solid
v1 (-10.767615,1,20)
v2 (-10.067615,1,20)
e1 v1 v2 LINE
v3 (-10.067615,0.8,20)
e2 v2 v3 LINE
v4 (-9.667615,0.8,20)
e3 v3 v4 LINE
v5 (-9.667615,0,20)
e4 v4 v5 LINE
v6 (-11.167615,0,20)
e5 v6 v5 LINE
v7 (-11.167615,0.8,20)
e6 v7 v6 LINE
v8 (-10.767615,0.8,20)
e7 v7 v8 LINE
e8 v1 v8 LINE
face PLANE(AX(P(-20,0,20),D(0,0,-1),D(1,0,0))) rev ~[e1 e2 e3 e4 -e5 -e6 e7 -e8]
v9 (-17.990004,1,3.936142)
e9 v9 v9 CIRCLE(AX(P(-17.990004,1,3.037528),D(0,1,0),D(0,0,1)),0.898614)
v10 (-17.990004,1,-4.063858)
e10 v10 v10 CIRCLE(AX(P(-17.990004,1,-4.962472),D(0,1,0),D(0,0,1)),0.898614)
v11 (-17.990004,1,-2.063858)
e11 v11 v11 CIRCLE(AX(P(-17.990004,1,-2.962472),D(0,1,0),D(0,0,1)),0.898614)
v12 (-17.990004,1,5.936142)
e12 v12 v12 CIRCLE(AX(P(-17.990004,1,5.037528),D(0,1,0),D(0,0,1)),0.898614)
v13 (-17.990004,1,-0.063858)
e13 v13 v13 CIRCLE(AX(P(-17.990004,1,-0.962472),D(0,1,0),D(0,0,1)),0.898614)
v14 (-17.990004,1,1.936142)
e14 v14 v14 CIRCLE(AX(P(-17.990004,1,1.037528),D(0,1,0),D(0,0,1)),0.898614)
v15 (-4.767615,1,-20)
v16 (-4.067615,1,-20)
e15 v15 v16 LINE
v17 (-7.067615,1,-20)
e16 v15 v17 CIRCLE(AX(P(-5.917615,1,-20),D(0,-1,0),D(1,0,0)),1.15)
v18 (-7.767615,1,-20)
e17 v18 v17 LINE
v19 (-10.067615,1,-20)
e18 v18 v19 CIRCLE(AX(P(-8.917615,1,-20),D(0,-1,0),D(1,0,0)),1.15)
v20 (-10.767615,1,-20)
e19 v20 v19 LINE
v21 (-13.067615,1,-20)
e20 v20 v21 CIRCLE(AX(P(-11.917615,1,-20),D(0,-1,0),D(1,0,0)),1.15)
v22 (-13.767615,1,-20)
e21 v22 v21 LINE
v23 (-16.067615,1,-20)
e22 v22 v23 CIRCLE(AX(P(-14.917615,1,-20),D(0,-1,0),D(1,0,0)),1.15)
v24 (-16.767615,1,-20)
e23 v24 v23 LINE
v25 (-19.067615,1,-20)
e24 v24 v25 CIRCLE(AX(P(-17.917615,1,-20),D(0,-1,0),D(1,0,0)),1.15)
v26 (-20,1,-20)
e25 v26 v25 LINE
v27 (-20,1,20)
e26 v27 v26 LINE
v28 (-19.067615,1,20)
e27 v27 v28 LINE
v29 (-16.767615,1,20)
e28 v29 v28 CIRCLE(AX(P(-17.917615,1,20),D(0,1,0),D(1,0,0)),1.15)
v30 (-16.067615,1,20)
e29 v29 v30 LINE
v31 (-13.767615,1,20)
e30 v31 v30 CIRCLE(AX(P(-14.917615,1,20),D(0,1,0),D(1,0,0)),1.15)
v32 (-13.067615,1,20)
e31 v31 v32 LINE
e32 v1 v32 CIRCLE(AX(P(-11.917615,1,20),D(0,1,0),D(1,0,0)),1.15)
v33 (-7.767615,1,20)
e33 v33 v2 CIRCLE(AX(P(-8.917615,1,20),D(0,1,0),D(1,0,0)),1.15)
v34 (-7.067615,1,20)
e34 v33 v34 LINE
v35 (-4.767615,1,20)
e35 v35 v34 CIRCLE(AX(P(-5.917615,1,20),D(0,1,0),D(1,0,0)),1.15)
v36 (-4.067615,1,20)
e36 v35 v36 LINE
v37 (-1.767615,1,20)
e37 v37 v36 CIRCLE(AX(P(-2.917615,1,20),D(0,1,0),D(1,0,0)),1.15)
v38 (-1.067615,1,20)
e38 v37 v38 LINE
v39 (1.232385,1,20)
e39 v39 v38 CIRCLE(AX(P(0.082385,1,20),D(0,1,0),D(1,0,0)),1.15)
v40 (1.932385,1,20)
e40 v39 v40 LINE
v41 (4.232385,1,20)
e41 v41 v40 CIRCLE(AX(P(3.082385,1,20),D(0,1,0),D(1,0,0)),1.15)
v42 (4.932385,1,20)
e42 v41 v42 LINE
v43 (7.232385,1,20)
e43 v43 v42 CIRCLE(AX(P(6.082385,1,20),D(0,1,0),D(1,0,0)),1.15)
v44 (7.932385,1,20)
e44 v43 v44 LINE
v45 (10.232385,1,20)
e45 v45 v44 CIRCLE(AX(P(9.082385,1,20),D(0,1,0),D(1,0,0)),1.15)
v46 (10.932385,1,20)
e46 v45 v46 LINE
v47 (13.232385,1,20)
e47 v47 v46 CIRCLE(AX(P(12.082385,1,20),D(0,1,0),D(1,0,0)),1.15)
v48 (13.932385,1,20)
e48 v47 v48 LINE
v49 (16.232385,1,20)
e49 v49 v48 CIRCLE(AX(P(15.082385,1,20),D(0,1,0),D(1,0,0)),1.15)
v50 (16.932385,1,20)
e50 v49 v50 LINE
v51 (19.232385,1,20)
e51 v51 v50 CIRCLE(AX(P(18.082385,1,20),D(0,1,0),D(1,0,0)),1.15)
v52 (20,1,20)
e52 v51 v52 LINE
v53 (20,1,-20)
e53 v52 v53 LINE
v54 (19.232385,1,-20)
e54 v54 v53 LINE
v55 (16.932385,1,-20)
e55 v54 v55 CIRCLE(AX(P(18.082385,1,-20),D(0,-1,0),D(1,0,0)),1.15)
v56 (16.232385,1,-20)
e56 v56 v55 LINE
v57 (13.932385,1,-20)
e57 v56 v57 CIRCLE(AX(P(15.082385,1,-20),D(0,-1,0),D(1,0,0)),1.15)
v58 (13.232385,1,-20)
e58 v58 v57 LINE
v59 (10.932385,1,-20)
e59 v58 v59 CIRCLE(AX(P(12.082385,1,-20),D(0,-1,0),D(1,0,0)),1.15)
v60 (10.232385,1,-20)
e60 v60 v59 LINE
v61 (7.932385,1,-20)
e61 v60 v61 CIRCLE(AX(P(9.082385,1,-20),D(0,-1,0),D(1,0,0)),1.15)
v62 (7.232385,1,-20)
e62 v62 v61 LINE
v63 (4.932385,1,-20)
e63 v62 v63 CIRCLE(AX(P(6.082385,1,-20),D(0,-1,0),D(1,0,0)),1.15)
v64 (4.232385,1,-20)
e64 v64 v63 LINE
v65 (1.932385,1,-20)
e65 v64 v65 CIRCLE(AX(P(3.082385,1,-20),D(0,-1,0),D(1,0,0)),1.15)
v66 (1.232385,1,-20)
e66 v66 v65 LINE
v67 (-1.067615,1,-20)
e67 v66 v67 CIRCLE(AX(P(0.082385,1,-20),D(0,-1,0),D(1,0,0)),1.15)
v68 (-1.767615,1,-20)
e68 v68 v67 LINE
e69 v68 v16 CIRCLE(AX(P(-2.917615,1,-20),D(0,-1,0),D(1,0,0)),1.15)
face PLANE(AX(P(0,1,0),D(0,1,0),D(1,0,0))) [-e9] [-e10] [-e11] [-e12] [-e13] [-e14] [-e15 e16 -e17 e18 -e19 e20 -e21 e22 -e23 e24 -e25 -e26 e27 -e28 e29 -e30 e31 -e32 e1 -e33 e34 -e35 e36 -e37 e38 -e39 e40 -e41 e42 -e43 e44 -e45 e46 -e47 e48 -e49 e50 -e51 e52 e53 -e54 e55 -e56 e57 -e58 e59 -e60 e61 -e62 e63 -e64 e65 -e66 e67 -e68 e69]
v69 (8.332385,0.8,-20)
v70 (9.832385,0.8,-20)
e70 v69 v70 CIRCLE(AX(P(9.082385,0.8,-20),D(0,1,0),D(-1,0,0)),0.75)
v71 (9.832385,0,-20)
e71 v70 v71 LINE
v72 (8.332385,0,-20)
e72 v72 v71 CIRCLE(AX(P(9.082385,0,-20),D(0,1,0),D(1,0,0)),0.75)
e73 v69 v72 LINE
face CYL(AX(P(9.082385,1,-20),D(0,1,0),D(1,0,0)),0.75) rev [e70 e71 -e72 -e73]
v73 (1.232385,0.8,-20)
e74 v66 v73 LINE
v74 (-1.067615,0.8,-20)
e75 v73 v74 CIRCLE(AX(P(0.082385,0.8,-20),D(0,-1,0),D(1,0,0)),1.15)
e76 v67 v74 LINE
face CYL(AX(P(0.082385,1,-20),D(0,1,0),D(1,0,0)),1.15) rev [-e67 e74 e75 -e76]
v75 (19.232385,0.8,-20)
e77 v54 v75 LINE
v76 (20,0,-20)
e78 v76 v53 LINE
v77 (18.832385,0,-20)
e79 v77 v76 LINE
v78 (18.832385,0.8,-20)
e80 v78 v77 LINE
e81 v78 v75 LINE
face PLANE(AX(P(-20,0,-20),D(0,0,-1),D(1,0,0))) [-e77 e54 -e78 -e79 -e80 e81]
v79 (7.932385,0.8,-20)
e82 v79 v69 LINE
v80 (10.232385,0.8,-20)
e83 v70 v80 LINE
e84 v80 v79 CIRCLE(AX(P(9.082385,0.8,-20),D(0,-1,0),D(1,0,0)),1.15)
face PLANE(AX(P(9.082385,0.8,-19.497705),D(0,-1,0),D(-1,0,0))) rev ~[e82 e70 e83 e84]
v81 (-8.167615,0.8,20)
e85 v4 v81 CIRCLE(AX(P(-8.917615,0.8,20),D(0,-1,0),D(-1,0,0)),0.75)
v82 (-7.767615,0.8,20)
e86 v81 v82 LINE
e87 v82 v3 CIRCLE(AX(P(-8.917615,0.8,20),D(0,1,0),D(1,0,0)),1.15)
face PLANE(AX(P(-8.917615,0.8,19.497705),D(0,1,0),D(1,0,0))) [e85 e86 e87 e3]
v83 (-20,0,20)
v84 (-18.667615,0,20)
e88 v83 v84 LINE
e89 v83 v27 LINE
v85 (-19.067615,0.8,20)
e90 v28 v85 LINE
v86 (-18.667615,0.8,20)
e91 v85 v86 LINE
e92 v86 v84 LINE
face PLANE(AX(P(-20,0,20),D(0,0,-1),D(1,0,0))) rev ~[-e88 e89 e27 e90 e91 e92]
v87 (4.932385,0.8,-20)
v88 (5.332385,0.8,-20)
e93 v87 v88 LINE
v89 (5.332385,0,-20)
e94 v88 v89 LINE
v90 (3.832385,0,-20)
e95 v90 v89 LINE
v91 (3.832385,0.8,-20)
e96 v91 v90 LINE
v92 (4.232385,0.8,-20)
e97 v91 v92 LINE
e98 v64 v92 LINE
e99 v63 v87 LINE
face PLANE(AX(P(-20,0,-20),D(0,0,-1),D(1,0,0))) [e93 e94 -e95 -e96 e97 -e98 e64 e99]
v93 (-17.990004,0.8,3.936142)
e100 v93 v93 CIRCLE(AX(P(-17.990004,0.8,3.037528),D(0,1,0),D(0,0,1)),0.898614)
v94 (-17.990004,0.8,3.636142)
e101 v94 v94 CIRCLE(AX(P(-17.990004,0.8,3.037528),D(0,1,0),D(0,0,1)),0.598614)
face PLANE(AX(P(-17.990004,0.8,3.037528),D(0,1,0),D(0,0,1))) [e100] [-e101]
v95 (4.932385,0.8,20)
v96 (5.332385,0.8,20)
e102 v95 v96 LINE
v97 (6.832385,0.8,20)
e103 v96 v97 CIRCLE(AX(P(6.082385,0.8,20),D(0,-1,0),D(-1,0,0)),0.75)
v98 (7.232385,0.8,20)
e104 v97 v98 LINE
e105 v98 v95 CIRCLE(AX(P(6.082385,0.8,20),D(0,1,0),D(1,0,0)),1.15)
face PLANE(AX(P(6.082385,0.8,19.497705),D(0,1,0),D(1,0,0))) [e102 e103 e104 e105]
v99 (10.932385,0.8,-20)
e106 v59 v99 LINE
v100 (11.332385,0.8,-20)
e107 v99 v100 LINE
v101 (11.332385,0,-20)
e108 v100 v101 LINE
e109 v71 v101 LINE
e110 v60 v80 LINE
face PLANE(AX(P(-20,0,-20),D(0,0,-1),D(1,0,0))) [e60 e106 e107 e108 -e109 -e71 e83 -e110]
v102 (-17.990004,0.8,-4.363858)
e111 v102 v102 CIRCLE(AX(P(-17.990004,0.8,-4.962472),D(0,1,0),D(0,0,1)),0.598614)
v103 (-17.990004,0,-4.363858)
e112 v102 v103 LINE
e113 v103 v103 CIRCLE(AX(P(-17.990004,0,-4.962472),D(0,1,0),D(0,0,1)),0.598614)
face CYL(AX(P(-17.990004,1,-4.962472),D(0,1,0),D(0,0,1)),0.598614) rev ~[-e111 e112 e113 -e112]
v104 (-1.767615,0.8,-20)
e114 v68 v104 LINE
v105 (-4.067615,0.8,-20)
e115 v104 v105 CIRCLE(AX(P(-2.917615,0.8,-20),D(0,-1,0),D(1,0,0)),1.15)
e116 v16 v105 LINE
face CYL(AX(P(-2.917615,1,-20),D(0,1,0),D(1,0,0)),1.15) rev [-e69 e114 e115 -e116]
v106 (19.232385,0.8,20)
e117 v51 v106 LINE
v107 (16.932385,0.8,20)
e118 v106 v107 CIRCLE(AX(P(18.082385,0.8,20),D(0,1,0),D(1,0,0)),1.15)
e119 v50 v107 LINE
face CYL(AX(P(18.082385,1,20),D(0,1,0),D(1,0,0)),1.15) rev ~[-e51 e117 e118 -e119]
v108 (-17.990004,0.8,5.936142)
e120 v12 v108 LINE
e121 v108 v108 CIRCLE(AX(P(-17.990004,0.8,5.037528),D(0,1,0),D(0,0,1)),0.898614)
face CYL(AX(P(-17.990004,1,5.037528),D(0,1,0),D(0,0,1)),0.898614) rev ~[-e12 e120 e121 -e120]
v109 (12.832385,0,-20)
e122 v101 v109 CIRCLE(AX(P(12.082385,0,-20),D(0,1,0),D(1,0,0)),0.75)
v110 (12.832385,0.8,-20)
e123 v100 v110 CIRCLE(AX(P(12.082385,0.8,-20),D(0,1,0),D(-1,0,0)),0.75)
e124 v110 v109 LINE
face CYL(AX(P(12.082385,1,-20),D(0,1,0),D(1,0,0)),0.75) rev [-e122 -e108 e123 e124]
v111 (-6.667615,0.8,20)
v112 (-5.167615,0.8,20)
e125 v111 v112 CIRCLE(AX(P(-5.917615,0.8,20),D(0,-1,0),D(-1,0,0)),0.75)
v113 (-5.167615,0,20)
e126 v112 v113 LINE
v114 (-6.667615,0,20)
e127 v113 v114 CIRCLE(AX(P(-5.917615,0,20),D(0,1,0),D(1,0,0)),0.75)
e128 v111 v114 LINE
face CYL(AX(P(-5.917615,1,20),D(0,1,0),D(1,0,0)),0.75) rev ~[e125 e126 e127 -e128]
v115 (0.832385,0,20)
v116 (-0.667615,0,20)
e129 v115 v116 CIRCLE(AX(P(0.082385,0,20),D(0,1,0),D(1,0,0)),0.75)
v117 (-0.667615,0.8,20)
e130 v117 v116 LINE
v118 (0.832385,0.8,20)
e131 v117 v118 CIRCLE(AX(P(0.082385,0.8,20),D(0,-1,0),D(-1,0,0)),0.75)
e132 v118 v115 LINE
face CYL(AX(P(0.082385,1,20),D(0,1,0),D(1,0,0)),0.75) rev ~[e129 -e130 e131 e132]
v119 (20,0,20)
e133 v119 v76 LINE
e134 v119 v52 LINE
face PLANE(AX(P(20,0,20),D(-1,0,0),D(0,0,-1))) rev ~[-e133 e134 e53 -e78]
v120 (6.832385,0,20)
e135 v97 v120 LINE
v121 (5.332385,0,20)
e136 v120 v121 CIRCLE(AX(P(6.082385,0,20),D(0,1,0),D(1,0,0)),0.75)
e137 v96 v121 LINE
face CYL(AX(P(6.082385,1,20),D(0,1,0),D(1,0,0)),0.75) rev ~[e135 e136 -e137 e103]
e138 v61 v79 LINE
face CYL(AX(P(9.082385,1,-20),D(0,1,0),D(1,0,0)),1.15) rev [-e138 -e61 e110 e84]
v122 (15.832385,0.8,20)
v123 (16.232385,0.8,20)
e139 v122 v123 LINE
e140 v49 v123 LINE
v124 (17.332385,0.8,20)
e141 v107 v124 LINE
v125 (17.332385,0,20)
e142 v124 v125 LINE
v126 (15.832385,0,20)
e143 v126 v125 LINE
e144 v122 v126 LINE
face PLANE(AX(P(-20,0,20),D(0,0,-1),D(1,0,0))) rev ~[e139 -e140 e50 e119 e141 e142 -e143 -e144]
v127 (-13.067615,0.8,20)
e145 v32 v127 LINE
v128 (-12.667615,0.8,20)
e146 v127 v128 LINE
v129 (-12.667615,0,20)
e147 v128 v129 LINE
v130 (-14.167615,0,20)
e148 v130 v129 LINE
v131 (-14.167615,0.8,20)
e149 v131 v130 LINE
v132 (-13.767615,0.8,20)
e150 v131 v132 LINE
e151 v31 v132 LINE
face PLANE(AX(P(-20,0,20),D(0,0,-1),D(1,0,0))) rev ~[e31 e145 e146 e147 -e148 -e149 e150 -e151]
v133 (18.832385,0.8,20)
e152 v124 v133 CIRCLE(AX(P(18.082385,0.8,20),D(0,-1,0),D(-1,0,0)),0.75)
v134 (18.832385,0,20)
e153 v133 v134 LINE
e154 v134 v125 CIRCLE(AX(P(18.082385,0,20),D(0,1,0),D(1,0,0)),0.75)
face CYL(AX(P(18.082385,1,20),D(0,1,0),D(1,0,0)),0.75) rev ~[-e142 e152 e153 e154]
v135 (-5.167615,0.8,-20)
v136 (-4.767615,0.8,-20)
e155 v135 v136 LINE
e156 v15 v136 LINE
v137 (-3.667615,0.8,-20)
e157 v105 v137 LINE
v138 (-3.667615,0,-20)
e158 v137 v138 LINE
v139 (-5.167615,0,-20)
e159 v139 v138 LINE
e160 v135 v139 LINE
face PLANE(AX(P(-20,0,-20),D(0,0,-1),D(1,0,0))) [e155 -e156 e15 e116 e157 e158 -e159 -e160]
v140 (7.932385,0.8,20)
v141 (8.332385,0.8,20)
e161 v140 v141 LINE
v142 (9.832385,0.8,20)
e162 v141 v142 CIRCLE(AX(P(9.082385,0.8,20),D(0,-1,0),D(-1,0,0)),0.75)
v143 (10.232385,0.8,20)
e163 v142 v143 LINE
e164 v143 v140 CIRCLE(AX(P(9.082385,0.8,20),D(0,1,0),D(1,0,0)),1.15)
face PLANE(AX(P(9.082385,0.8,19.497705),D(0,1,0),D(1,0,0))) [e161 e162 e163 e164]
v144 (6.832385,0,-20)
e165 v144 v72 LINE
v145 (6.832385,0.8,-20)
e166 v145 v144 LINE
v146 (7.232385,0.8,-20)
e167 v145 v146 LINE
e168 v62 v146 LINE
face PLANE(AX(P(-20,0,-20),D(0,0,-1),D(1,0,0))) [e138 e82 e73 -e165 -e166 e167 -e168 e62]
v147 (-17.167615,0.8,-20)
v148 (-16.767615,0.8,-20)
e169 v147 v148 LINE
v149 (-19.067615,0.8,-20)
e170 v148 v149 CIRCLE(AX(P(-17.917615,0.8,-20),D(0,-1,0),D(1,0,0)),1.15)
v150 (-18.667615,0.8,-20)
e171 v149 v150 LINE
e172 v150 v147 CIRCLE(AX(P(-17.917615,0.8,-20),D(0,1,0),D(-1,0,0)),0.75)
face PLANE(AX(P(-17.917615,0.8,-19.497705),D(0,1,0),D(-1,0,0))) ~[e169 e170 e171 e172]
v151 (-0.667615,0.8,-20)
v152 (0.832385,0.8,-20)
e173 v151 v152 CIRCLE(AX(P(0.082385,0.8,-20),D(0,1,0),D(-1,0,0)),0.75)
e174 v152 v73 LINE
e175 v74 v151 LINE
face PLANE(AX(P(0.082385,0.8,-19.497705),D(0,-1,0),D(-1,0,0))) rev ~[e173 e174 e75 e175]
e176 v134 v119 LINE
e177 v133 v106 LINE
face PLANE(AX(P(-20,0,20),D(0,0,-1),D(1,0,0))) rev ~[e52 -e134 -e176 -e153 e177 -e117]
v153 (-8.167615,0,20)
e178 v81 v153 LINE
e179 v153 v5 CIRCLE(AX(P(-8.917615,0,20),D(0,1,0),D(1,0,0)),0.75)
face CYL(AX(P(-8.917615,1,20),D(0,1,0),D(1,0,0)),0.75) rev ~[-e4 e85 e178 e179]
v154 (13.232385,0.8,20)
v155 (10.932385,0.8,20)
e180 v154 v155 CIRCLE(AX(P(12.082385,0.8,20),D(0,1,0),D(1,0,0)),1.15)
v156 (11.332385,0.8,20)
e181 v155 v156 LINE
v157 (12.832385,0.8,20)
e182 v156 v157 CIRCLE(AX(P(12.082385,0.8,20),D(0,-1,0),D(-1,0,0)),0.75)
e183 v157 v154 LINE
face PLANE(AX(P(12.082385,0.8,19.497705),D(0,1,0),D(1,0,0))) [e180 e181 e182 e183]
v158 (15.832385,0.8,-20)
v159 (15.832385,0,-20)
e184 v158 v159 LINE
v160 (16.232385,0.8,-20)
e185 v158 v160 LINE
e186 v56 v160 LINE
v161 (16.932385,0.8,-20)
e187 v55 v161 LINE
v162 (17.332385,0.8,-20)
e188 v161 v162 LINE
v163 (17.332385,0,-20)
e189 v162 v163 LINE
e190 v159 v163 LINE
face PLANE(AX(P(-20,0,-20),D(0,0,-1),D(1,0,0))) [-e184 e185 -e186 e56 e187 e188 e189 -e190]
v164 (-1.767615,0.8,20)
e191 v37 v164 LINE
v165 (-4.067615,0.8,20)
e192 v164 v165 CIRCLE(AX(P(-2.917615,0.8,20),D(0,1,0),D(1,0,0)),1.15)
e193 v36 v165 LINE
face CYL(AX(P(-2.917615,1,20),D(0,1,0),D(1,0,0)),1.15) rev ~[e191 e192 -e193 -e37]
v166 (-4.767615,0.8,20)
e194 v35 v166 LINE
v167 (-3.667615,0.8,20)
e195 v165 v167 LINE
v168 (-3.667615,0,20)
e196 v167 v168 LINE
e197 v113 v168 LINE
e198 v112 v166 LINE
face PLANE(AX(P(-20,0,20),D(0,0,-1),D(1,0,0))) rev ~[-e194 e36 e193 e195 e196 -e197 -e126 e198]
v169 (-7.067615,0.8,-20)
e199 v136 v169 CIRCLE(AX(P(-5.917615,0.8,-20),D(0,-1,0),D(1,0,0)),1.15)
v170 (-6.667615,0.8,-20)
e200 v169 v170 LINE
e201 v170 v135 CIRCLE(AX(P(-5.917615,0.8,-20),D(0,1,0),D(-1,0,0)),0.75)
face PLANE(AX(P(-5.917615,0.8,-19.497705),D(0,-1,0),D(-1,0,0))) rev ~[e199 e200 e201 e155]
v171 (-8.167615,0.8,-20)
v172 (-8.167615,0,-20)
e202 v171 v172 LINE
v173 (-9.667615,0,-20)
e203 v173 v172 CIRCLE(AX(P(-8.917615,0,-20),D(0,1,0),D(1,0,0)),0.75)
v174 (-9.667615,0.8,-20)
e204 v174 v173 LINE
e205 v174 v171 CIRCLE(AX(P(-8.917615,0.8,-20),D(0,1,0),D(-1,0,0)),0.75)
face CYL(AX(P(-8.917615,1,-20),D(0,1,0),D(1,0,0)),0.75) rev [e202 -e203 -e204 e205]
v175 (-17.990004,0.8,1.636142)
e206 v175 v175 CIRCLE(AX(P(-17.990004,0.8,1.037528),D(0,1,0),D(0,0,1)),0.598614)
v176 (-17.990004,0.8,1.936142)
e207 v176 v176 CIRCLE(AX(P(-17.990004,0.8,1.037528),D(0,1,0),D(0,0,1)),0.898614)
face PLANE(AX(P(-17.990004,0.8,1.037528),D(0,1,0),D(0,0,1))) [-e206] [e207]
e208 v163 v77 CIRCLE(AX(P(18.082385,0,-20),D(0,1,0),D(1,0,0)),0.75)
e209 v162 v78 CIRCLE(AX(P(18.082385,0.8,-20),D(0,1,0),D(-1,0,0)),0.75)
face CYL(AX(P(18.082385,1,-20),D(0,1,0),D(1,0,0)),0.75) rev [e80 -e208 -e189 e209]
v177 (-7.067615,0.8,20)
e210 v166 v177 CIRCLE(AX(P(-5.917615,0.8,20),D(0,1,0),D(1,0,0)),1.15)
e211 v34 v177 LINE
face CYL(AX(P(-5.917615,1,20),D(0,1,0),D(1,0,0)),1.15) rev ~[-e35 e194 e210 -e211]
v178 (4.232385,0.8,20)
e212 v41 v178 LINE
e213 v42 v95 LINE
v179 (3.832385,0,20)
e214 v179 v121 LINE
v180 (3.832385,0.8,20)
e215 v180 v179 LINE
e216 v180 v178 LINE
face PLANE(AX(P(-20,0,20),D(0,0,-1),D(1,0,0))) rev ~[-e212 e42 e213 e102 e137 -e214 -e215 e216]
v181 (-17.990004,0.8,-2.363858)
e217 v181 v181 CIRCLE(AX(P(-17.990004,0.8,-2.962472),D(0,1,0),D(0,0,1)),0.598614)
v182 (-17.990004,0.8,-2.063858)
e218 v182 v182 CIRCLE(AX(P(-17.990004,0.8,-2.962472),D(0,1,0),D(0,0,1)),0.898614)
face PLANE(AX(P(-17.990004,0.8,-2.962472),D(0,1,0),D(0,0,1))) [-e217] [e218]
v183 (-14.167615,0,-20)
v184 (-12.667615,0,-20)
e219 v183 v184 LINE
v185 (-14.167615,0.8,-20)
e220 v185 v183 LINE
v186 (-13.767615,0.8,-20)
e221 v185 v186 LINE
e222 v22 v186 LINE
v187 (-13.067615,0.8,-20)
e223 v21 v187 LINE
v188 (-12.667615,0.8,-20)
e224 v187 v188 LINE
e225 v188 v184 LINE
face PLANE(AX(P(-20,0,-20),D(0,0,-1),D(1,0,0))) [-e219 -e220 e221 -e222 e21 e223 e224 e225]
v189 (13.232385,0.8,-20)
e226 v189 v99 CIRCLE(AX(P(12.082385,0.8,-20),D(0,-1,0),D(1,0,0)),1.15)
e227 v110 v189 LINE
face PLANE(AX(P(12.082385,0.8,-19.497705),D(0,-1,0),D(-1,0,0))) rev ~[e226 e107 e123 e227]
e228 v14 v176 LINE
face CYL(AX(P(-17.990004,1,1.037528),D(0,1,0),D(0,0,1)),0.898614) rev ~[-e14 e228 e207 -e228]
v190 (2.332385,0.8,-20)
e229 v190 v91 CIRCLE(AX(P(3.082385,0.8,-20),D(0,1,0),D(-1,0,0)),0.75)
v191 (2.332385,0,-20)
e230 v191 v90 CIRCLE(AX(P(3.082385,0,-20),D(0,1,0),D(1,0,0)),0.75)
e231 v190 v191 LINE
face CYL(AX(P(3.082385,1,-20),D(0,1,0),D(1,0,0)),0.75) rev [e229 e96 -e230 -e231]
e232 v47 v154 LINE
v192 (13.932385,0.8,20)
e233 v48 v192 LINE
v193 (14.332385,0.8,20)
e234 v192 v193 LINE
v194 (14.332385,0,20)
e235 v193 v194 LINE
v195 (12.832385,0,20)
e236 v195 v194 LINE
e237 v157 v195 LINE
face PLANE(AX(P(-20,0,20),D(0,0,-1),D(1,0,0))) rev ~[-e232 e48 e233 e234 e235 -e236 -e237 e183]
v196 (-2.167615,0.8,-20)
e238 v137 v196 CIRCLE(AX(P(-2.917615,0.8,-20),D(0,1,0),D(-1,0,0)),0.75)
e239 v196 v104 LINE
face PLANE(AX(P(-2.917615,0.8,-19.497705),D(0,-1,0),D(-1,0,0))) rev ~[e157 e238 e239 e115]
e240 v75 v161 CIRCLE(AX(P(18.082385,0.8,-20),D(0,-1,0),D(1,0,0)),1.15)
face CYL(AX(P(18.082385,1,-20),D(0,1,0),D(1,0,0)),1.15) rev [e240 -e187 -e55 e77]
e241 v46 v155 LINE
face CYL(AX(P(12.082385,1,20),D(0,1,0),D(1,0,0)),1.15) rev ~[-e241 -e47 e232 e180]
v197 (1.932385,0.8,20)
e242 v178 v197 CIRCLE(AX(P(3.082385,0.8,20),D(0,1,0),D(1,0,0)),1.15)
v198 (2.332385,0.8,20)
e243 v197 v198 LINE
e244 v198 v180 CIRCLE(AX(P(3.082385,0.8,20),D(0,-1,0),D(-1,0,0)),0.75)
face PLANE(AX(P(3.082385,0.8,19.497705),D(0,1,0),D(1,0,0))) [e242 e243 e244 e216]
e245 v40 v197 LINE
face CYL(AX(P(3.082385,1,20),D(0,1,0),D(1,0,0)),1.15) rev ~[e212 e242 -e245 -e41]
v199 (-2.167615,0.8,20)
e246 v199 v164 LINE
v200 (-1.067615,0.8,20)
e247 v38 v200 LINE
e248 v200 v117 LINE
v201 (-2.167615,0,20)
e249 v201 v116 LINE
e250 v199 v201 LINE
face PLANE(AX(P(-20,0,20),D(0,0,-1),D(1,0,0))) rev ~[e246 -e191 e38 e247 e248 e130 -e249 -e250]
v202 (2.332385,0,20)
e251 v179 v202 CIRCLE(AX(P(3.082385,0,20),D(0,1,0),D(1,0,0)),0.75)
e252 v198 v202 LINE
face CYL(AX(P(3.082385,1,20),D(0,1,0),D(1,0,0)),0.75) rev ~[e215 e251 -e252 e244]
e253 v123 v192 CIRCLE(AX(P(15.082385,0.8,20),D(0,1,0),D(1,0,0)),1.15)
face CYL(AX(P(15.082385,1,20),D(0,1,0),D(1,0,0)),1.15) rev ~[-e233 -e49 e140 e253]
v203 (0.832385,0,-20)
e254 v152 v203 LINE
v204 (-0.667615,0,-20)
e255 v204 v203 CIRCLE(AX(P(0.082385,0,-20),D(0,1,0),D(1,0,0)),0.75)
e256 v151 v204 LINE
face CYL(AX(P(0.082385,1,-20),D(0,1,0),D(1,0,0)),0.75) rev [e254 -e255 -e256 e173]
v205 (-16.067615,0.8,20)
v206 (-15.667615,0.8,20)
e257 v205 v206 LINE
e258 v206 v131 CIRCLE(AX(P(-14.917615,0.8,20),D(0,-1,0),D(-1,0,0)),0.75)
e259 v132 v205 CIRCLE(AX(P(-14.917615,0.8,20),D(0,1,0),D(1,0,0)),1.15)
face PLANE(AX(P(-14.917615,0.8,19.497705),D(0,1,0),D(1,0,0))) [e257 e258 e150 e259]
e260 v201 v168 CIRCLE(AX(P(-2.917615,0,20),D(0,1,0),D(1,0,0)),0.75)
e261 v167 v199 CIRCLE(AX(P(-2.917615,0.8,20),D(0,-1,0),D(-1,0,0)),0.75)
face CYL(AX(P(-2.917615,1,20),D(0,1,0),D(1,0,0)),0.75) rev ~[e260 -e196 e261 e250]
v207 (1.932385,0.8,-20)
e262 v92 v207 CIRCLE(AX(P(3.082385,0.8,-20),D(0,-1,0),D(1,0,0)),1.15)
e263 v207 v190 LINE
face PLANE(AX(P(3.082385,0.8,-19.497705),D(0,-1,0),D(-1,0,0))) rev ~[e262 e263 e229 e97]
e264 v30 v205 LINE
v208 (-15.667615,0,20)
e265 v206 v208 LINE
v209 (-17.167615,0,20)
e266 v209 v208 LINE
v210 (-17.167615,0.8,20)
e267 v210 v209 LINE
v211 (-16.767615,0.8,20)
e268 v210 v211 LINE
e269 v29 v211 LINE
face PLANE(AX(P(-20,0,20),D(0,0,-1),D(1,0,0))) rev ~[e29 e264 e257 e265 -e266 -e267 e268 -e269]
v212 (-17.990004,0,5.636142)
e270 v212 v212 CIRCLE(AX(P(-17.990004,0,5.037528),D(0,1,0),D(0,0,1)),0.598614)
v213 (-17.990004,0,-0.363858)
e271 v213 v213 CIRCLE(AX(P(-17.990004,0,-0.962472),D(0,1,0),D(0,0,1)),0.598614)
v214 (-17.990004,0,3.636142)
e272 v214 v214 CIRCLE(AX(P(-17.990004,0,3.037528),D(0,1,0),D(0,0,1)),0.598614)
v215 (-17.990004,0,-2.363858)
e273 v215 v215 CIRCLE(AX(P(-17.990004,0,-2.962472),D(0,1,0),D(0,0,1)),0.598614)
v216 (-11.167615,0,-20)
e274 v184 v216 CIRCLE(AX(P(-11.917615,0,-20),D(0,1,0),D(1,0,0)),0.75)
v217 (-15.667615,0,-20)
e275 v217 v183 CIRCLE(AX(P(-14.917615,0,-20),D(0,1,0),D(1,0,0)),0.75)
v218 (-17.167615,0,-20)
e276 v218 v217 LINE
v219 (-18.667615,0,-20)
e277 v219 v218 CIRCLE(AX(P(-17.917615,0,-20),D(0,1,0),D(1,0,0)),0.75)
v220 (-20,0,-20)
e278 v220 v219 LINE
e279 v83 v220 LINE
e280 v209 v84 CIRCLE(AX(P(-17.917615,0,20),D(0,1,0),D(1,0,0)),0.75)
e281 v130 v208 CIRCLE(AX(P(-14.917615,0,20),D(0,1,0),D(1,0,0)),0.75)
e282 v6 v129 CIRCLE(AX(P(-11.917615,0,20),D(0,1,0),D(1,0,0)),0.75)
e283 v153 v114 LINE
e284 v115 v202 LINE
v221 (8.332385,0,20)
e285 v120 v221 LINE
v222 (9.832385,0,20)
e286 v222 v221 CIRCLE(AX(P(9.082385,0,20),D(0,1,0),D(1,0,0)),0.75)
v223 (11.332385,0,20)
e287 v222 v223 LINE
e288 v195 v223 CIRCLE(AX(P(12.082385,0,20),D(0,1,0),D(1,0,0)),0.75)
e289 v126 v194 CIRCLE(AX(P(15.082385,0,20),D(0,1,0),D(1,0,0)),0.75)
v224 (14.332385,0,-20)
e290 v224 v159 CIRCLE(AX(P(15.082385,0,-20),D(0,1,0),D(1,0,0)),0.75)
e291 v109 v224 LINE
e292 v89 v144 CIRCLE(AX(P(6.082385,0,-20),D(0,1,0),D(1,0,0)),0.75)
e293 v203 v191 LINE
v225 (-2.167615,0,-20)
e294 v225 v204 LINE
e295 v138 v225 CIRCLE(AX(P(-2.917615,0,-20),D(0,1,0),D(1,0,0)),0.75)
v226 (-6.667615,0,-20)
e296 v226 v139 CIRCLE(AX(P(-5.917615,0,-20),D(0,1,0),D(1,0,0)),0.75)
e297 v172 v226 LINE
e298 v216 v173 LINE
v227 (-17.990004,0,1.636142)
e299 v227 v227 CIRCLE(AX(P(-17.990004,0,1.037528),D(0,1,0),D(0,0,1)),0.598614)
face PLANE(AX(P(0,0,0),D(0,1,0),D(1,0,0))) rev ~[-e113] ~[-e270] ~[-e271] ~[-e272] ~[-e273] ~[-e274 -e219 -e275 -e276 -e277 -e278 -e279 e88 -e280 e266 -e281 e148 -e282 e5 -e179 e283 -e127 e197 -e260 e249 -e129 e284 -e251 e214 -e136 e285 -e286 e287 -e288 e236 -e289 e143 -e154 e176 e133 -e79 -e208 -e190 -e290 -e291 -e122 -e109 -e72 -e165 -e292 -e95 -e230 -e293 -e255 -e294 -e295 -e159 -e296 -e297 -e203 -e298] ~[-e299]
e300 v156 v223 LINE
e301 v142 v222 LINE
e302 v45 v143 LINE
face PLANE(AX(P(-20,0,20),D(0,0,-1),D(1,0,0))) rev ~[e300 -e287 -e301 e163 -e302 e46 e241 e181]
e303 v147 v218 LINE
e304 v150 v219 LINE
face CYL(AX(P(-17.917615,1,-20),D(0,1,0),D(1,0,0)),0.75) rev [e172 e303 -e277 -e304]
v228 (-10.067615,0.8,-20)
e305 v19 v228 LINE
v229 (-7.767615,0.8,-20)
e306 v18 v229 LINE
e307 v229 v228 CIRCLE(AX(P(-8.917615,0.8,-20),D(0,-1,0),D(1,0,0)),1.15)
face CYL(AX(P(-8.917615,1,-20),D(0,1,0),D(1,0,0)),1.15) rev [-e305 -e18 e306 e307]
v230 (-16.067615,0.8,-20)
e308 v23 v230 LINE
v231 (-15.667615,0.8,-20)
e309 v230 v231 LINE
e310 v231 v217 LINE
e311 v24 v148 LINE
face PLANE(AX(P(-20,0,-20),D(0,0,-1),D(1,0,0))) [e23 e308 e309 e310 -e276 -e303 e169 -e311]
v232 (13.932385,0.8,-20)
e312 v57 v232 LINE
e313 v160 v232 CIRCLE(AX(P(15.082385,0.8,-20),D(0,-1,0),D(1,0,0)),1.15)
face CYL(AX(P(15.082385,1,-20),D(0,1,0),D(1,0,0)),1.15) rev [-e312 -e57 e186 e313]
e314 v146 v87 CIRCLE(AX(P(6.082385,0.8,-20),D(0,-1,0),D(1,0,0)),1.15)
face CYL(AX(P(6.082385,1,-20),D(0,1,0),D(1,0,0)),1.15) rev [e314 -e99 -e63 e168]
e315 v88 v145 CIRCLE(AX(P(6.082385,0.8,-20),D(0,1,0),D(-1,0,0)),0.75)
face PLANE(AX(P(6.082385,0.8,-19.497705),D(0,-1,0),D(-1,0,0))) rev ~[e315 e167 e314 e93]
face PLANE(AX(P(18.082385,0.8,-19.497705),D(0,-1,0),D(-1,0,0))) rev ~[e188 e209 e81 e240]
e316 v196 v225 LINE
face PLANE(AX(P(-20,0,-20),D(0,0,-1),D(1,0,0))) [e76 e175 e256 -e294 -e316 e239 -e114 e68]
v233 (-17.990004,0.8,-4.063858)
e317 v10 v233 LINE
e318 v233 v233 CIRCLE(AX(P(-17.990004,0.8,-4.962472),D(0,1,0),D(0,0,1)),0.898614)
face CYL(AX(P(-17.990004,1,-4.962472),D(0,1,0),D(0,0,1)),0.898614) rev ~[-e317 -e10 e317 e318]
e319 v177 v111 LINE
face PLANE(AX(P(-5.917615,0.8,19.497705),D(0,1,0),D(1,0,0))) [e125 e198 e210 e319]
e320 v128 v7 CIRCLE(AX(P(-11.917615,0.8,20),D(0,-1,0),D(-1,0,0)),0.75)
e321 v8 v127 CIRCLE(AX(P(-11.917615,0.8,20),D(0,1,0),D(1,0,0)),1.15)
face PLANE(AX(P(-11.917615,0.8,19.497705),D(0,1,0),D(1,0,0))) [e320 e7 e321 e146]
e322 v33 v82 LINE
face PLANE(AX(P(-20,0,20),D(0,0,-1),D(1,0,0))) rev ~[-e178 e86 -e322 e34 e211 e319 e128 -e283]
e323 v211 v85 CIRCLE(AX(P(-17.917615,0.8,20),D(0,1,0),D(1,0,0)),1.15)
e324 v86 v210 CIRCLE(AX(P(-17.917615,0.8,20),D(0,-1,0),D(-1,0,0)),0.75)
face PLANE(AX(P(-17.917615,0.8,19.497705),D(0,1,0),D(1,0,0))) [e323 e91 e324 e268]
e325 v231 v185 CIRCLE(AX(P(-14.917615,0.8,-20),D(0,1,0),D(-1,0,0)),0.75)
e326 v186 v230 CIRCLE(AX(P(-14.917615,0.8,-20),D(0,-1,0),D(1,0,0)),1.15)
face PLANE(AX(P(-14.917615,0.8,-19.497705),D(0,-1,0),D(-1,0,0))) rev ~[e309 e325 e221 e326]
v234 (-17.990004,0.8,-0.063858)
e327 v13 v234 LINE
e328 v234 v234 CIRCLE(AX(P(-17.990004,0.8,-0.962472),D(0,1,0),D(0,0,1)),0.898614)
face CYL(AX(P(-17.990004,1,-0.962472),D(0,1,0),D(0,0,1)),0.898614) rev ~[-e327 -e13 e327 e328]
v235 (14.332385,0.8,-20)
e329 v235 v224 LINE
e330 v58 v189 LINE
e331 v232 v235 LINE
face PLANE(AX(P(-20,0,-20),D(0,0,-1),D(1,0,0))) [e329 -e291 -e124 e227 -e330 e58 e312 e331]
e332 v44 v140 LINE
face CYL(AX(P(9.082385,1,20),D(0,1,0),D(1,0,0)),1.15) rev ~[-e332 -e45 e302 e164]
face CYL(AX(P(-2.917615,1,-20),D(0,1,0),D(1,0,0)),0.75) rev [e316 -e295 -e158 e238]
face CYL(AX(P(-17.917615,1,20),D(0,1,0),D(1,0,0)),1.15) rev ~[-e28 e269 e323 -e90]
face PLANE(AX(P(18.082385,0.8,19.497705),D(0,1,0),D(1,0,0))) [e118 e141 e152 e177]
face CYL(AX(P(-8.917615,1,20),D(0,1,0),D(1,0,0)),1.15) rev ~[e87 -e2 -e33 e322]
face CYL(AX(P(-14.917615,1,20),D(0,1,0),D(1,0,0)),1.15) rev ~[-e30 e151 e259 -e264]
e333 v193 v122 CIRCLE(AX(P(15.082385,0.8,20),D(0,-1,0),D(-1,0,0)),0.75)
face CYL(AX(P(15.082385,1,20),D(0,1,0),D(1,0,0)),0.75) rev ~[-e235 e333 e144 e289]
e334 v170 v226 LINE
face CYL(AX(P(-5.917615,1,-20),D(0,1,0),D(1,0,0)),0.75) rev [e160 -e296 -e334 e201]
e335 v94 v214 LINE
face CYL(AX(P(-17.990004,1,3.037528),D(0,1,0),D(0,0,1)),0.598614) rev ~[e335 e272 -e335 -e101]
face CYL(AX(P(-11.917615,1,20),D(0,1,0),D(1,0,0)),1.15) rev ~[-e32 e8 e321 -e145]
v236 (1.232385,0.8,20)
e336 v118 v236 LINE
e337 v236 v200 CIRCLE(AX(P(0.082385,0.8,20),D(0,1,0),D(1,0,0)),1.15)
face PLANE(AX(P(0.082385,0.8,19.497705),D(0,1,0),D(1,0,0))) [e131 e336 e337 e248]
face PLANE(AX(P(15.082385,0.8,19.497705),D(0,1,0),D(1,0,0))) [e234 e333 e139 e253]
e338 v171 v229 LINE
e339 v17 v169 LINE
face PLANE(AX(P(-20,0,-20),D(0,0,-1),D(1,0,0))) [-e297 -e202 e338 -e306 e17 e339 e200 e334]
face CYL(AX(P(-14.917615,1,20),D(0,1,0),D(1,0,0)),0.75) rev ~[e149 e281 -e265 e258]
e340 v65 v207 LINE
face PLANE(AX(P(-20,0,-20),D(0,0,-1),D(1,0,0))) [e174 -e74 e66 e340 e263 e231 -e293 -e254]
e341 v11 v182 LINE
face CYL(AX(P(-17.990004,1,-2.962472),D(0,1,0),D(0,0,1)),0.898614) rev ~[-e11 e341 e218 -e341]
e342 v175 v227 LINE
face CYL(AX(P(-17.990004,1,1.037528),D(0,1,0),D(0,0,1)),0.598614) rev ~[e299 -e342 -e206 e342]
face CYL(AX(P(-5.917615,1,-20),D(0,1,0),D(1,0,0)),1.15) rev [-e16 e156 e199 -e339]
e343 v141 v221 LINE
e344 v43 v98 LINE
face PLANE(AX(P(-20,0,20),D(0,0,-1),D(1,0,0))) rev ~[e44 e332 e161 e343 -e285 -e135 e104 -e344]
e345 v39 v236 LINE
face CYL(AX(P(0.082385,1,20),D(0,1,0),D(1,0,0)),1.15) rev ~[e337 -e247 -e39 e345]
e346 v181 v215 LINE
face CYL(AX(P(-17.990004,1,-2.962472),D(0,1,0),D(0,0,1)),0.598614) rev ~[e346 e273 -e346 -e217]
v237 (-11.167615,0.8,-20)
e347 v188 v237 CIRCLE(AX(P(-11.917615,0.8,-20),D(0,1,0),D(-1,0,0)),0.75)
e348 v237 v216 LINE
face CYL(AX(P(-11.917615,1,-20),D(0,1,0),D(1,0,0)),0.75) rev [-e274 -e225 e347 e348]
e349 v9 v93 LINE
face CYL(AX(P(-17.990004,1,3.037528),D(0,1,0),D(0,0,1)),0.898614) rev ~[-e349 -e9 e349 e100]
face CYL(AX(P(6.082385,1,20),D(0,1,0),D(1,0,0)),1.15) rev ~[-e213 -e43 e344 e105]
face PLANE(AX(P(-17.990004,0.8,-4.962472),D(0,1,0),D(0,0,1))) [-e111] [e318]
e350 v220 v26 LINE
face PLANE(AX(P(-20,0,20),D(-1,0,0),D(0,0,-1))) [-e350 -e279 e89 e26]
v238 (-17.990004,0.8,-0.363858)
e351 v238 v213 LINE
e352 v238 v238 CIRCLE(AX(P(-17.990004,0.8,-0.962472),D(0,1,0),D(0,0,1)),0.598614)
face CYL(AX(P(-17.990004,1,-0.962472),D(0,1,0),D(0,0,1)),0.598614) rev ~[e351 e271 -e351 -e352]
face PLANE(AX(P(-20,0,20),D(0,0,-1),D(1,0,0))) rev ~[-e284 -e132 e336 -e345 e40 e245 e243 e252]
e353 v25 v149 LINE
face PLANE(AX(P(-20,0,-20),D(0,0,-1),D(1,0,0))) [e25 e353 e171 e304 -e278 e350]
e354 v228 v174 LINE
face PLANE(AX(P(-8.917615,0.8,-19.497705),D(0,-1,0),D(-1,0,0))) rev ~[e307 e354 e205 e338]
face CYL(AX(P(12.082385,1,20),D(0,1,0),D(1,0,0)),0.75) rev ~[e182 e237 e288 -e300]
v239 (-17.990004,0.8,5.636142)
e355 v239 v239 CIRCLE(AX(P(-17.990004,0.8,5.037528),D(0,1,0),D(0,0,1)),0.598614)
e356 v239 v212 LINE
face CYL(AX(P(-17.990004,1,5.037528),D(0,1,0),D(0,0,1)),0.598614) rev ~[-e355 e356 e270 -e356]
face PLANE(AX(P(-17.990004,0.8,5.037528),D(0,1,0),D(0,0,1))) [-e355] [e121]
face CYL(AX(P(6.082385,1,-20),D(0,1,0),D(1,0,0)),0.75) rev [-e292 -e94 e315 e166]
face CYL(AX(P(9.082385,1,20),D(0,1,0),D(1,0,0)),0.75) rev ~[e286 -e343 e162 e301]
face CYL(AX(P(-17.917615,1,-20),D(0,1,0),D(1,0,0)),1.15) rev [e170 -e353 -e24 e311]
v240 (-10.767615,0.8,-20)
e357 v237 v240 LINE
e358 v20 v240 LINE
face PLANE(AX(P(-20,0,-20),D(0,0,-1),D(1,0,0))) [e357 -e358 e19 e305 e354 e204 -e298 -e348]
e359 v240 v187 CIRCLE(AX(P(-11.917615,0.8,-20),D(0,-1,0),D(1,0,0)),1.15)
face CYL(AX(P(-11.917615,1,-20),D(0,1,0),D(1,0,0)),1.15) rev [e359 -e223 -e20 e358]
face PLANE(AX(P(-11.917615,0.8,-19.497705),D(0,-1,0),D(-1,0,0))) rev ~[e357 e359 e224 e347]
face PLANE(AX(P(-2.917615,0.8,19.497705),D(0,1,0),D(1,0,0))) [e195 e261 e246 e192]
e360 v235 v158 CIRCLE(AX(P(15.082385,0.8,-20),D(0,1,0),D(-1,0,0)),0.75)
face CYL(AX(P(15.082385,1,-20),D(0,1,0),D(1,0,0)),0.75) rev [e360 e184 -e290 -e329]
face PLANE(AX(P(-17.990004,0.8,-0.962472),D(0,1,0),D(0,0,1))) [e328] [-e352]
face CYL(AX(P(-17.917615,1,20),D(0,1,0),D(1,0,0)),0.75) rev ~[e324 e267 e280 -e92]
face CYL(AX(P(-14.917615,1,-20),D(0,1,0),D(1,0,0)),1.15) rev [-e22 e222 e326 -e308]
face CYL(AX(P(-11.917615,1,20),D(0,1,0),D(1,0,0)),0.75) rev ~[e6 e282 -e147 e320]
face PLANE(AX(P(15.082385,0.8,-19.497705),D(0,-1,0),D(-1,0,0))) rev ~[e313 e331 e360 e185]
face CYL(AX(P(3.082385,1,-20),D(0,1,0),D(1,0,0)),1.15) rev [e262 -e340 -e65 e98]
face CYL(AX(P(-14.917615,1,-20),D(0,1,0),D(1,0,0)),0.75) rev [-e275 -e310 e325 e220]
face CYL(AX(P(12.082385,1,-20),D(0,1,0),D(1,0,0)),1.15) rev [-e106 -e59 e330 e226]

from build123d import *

# Parameters (mm, degrees)
IZIM1_W                     = 40
IZIM1_H                     = 40
Y_KSEKLIK_EKSTR_ZYON1_DEPTH = 1
IZIM2_R                     = 0.598614151
KES_EKSTR_ZYON1_DEPTH       = 2
L_O_ALTMA1_COUNT            = 6
L_O_ALTMA1_PITCH            = 2
IZIM3_R                     = 0.898614151
KES_EKSTR_ZYON2_DEPTH       = 0.2
L_O_ALTMA3_COUNT            = 6
L_O_ALTMA3_PITCH            = 2
KES_EKSTR_ZYON3_DEPTH       = 1.2
KES_EKSTR_ZYON4_DEPTH       = 0.2
L_O_ALTMA4_COUNT            = 13
L_O_ALTMA4_PITCH            = 3
AYNALAMA1_COPY_1_DEPTH      = 1.2
AYNALAMA1_COPY_2_DEPTH      = 1.2
AYNALAMA1_COPY_3_DEPTH      = 1.2
AYNALAMA1_COPY_4_DEPTH      = 1.2
AYNALAMA1_COPY_5_DEPTH      = 1.2
AYNALAMA1_COPY_6_DEPTH      = 1.2
AYNALAMA1_COPY_7_DEPTH      = 1.2
AYNALAMA1_COPY_8_DEPTH      = 1.2
AYNALAMA1_COPY_9_DEPTH      = 1.2
AYNALAMA1_COPY_10_DEPTH     = 1.2
AYNALAMA1_COPY_11_DEPTH     = 1.2
AYNALAMA1_COPY_12_DEPTH     = 1.2
AYNALAMA1_COPY_13_DEPTH     = 0.2
AYNALAMA1_COPY_14_DEPTH     = 0.2
AYNALAMA1_COPY_15_DEPTH     = 0.2
AYNALAMA1_COPY_16_DEPTH     = 0.2
AYNALAMA1_COPY_17_DEPTH     = 0.2
AYNALAMA1_COPY_18_DEPTH     = 0.2
AYNALAMA1_COPY_19_DEPTH     = 0.2
AYNALAMA1_COPY_20_DEPTH     = 0.2
AYNALAMA1_COPY_21_DEPTH     = 0.2
AYNALAMA1_COPY_22_DEPTH     = 0.2
AYNALAMA1_COPY_23_DEPTH     = 0.2
AYNALAMA1_COPY_24_DEPTH     = 0.2


with BuildPart() as part:
    # Çizim1 → Yükseklik-Ekstrüzyon1 (new body)
    with BuildSketch(Plane(origin=(0, 0, 0), x_dir=(1, 0, 0), z_dir=(0, 1, 0))):
        Rectangle(IZIM1_W, IZIM1_H)
    extrude(amount=Y_KSEKLIK_EKSTR_ZYON1_DEPTH)

    # Çizim2 → Kes-Ekstrüzyon1 (cut)
    with BuildSketch(Plane(origin=(0, 1, 1.355445714), x_dir=(1, 0, 0), z_dir=(0, 1, 0))):
        with Locations(Location((-17.990003602, 6.317917931, 0), (0, 0, 270))):
            Circle(IZIM2_R)
    kes_ekstr_zyon1 = extrude(amount=-KES_EKSTR_ZYON1_DEPTH, mode=Mode.SUBTRACT)

    # LÇoğaltma1: Kes-Ekstrüzyon1 ×6
    with Locations(*[(0, 0, i * L_O_ALTMA1_PITCH) for i in range(1, L_O_ALTMA1_COUNT)]):
        add(kes_ekstr_zyon1, mode=Mode.SUBTRACT)

    # Çizim3 → Kes-Ekstrüzyon2 (cut)
    with BuildSketch(Plane(origin=(0, 1, 0), x_dir=(1, 0, 0), z_dir=(0, 1, 0))):
        with Locations(Location((-17.990003602, 4.962472217, 0), (0, 0, 270))):
            Circle(IZIM3_R)
    kes_ekstr_zyon2 = extrude(amount=-KES_EKSTR_ZYON2_DEPTH, mode=Mode.SUBTRACT)

    # LÇoğaltma3: Kes-Ekstrüzyon2 ×6
    with Locations(*[(0, 0, i * L_O_ALTMA3_PITCH) for i in range(1, L_O_ALTMA3_COUNT)]):
        add(kes_ekstr_zyon2, mode=Mode.SUBTRACT)

    # Çizim4 → Kes-Ekstrüzyon3 (cut)
    with BuildSketch(Plane(origin=(0, 1, 0), x_dir=(1, 0, 0), z_dir=(0, 1, 0))):
        with BuildLine():
            Line((-18.667614776, -20), (-17.167614776, -20))
            ThreePointArc((-17.167614776, -20), (-17.917614776, -19.25), (-18.667614776, -20))
        make_face()
    kes_ekstr_zyon3 = extrude(amount=-KES_EKSTR_ZYON3_DEPTH, mode=Mode.SUBTRACT)

    # Çizim5 → Kes-Ekstrüzyon4 (cut)
    with BuildSketch(Plane(origin=(0, 1, 0), x_dir=(1, 0, 0), z_dir=(0, 1, 0))):
        with BuildLine():
            Line((-19.067614776, -20), (-18.667614776, -20))
            ThreePointArc((-18.667614776, -20), (-17.917614776, -19.25), (-17.167614776, -20))
            Line((-17.167614776, -20), (-16.767614776, -20))
            ThreePointArc((-16.767614776, -20), (-17.917614776, -18.85), (-19.067614776, -20))
        make_face()
    kes_ekstr_zyon4 = extrude(amount=-KES_EKSTR_ZYON4_DEPTH, mode=Mode.SUBTRACT)

    # LÇoğaltma4: Kes-Ekstrüzyon3, Kes-Ekstrüzyon4 ×13
    with Locations(*[(i * L_O_ALTMA4_PITCH, 0, 0) for i in range(1, L_O_ALTMA4_COUNT)]):
        add(kes_ekstr_zyon3, mode=Mode.SUBTRACT)
        add(kes_ekstr_zyon4, mode=Mode.SUBTRACT)

    # Aynalama1: Kes-Ekstrüzyon3, Kes-Ekstrüzyon4 across plane
    add(kes_ekstr_zyon3.mirror(Plane.XY), mode=Mode.SUBTRACT)
    add(kes_ekstr_zyon4.mirror(Plane.XY), mode=Mode.SUBTRACT)

    # Aynalama1 copy 1 sketch → Aynalama1 copy 1 (cut)
    with BuildSketch(Plane(origin=(3, 1, 0), x_dir=(1, 0, 0), z_dir=(0, 1, 0))):
        with BuildLine():
            Line((-18.667614776, 20), (-17.167614776, 20))
            ThreePointArc((-17.167614776, 20), (-17.917614776, 19.25), (-18.667614776, 20))
        make_face()
    extrude(amount=-AYNALAMA1_COPY_1_DEPTH, mode=Mode.SUBTRACT)

    # Aynalama1 copy 2 sketch → Aynalama1 copy 2 (cut)
    with BuildSketch(Plane(origin=(6, 1, 0), x_dir=(1, 0, 0), z_dir=(0, 1, 0))):
        with BuildLine():
            Line((-18.667614776, 20), (-17.167614776, 20))
            ThreePointArc((-17.167614776, 20), (-17.917614776, 19.25), (-18.667614776, 20))
        make_face()
    extrude(amount=-AYNALAMA1_COPY_2_DEPTH, mode=Mode.SUBTRACT)

    # Aynalama1 copy 3 sketch → Aynalama1 copy 3 (cut)
    with BuildSketch(Plane(origin=(9, 1, 0), x_dir=(1, 0, 0), z_dir=(0, 1, 0))):
        with BuildLine():
            Line((-18.667614776, 20), (-17.167614776, 20))
            ThreePointArc((-17.167614776, 20), (-17.917614776, 19.25), (-18.667614776, 20))
        make_face()
    extrude(amount=-AYNALAMA1_COPY_3_DEPTH, mode=Mode.SUBTRACT)

    # Aynalama1 copy 4 sketch → Aynalama1 copy 4 (cut)
    with BuildSketch(Plane(origin=(12, 1, 0), x_dir=(1, 0, 0), z_dir=(0, 1, 0))):
        with BuildLine():
            Line((-18.667614776, 20), (-17.167614776, 20))
            ThreePointArc((-17.167614776, 20), (-17.917614776, 19.25), (-18.667614776, 20))
        make_face()
    extrude(amount=-AYNALAMA1_COPY_4_DEPTH, mode=Mode.SUBTRACT)

    # Aynalama1 copy 5 sketch → Aynalama1 copy 5 (cut)
    with BuildSketch(Plane(origin=(15, 1, 0), x_dir=(1, 0, 0), z_dir=(0, 1, 0))):
        with BuildLine():
            Line((-18.667614776, 20), (-17.167614776, 20))
            ThreePointArc((-17.167614776, 20), (-17.917614776, 19.25), (-18.667614776, 20))
        make_face()
    extrude(amount=-AYNALAMA1_COPY_5_DEPTH, mode=Mode.SUBTRACT)

    # Aynalama1 copy 6 sketch → Aynalama1 copy 6 (cut)
    with BuildSketch(Plane(origin=(18, 1, 0), x_dir=(1, 0, 0), z_dir=(0, 1, 0))):
        with BuildLine():
            Line((-18.667614776, 20), (-17.167614776, 20))
            ThreePointArc((-17.167614776, 20), (-17.917614776, 19.25), (-18.667614776, 20))
        make_face()
    extrude(amount=-AYNALAMA1_COPY_6_DEPTH, mode=Mode.SUBTRACT)

    # Aynalama1 copy 7 sketch → Aynalama1 copy 7 (cut)
    with BuildSketch(Plane(origin=(21, 1, 0), x_dir=(1, 0, 0), z_dir=(0, 1, 0))):
        with BuildLine():
            Line((-18.667614776, 20), (-17.167614776, 20))
            ThreePointArc((-17.167614776, 20), (-17.917614776, 19.25), (-18.667614776, 20))
        make_face()
    extrude(amount=-AYNALAMA1_COPY_7_DEPTH, mode=Mode.SUBTRACT)

    # Aynalama1 copy 8 sketch → Aynalama1 copy 8 (cut)
    with BuildSketch(Plane(origin=(24, 1, 0), x_dir=(1, 0, 0), z_dir=(0, 1, 0))):
        with BuildLine():
            Line((-18.667614776, 20), (-17.167614776, 20))
            ThreePointArc((-17.167614776, 20), (-17.917614776, 19.25), (-18.667614776, 20))
        make_face()
    extrude(amount=-AYNALAMA1_COPY_8_DEPTH, mode=Mode.SUBTRACT)

    # Aynalama1 copy 9 sketch → Aynalama1 copy 9 (cut)
    with BuildSketch(Plane(origin=(27, 1, 0), x_dir=(1, 0, 0), z_dir=(0, 1, 0))):
        with BuildLine():
            Line((-18.667614776, 20), (-17.167614776, 20))
            ThreePointArc((-17.167614776, 20), (-17.917614776, 19.25), (-18.667614776, 20))
        make_face()
    extrude(amount=-AYNALAMA1_COPY_9_DEPTH, mode=Mode.SUBTRACT)

    # Aynalama1 copy 10 sketch → Aynalama1 copy 10 (cut)
    with BuildSketch(Plane(origin=(30, 1, 0), x_dir=(1, 0, 0), z_dir=(0, 1, 0))):
        with BuildLine():
            Line((-18.667614776, 20), (-17.167614776, 20))
            ThreePointArc((-17.167614776, 20), (-17.917614776, 19.25), (-18.667614776, 20))
        make_face()
    extrude(amount=-AYNALAMA1_COPY_10_DEPTH, mode=Mode.SUBTRACT)

    # Aynalama1 copy 11 sketch → Aynalama1 copy 11 (cut)
    with BuildSketch(Plane(origin=(33, 1, 0), x_dir=(1, 0, 0), z_dir=(0, 1, 0))):
        with BuildLine():
            Line((-18.667614776, 20), (-17.167614776, 20))
            ThreePointArc((-17.167614776, 20), (-17.917614776, 19.25), (-18.667614776, 20))
        make_face()
    extrude(amount=-AYNALAMA1_COPY_11_DEPTH, mode=Mode.SUBTRACT)

    # Aynalama1 copy 12 sketch → Aynalama1 copy 12 (cut)
    with BuildSketch(Plane(origin=(36, 1, 0), x_dir=(1, 0, 0), z_dir=(0, 1, 0))):
        with BuildLine():
            Line((-18.667614776, 20), (-17.167614776, 20))
            ThreePointArc((-17.167614776, 20), (-17.917614776, 19.25), (-18.667614776, 20))
        make_face()
    extrude(amount=-AYNALAMA1_COPY_12_DEPTH, mode=Mode.SUBTRACT)

    # Aynalama1 copy 13 sketch → Aynalama1 copy 13 (cut)
    with BuildSketch(Plane(origin=(3, 1, 0), x_dir=(1, 0, 0), z_dir=(0, 1, 0))):
        with BuildLine():
            Line((-19.067614776, 20), (-18.667614776, 20))
            ThreePointArc((-18.667614776, 20), (-17.917614776, 19.25), (-17.167614776, 20))
            Line((-17.167614776, 20), (-16.767614776, 20))
            ThreePointArc((-16.767614776, 20), (-17.917614776, 18.85), (-19.067614776, 20))
        make_face()
    extrude(amount=-AYNALAMA1_COPY_13_DEPTH, mode=Mode.SUBTRACT)

    # Aynalama1 copy 14 sketch → Aynalama1 copy 14 (cut)
    with BuildSketch(Plane(origin=(6, 1, 0), x_dir=(1, 0, 0), z_dir=(0, 1, 0))):
        with BuildLine():
            Line((-19.067614776, 20), (-18.667614776, 20))
            ThreePointArc((-18.667614776, 20), (-17.917614776, 19.25), (-17.167614776, 20))
            Line((-17.167614776, 20), (-16.767614776, 20))
            ThreePointArc((-16.767614776, 20), (-17.917614776, 18.85), (-19.067614776, 20))
        make_face()
    extrude(amount=-AYNALAMA1_COPY_14_DEPTH, mode=Mode.SUBTRACT)

    # Aynalama1 copy 15 sketch → Aynalama1 copy 15 (cut)
    with BuildSketch(Plane(origin=(9, 1, 0), x_dir=(1, 0, 0), z_dir=(0, 1, 0))):
        with BuildLine():
            Line((-19.067614776, 20), (-18.667614776, 20))
            ThreePointArc((-18.667614776, 20), (-17.917614776, 19.25), (-17.167614776, 20))
            Line((-17.167614776, 20), (-16.767614776, 20))
            ThreePointArc((-16.767614776, 20), (-17.917614776, 18.85), (-19.067614776, 20))
        make_face()
    extrude(amount=-AYNALAMA1_COPY_15_DEPTH, mode=Mode.SUBTRACT)

    # Aynalama1 copy 16 sketch → Aynalama1 copy 16 (cut)
    with BuildSketch(Plane(origin=(12, 1, 0), x_dir=(1, 0, 0), z_dir=(0, 1, 0))):
        with BuildLine():
            Line((-19.067614776, 20), (-18.667614776, 20))
            ThreePointArc((-18.667614776, 20), (-17.917614776, 19.25), (-17.167614776, 20))
            Line((-17.167614776, 20), (-16.767614776, 20))
            ThreePointArc((-16.767614776, 20), (-17.917614776, 18.85), (-19.067614776, 20))
        make_face()
    extrude(amount=-AYNALAMA1_COPY_16_DEPTH, mode=Mode.SUBTRACT)

    # Aynalama1 copy 17 sketch → Aynalama1 copy 17 (cut)
    with BuildSketch(Plane(origin=(15, 1, 0), x_dir=(1, 0, 0), z_dir=(0, 1, 0))):
        with BuildLine():
            Line((-19.067614776, 20), (-18.667614776, 20))
            ThreePointArc((-18.667614776, 20), (-17.917614776, 19.25), (-17.167614776, 20))
            Line((-17.167614776, 20), (-16.767614776, 20))
            ThreePointArc((-16.767614776, 20), (-17.917614776, 18.85), (-19.067614776, 20))
        make_face()
    extrude(amount=-AYNALAMA1_COPY_17_DEPTH, mode=Mode.SUBTRACT)

    # Aynalama1 copy 18 sketch → Aynalama1 copy 18 (cut)
    with BuildSketch(Plane(origin=(18, 1, 0), x_dir=(1, 0, 0), z_dir=(0, 1, 0))):
        with BuildLine():
            Line((-19.067614776, 20), (-18.667614776, 20))
            ThreePointArc((-18.667614776, 20), (-17.917614776, 19.25), (-17.167614776, 20))
            Line((-17.167614776, 20), (-16.767614776, 20))
            ThreePointArc((-16.767614776, 20), (-17.917614776, 18.85), (-19.067614776, 20))
        make_face()
    extrude(amount=-AYNALAMA1_COPY_18_DEPTH, mode=Mode.SUBTRACT)

    # Aynalama1 copy 19 sketch → Aynalama1 copy 19 (cut)
    with BuildSketch(Plane(origin=(21, 1, 0), x_dir=(1, 0, 0), z_dir=(0, 1, 0))):
        with BuildLine():
            Line((-19.067614776, 20), (-18.667614776, 20))
            ThreePointArc((-18.667614776, 20), (-17.917614776, 19.25), (-17.167614776, 20))
            Line((-17.167614776, 20), (-16.767614776, 20))
            ThreePointArc((-16.767614776, 20), (-17.917614776, 18.85), (-19.067614776, 20))
        make_face()
    extrude(amount=-AYNALAMA1_COPY_19_DEPTH, mode=Mode.SUBTRACT)

    # Aynalama1 copy 20 sketch → Aynalama1 copy 20 (cut)
    with BuildSketch(Plane(origin=(24, 1, 0), x_dir=(1, 0, 0), z_dir=(0, 1, 0))):
        with BuildLine():
            Line((-19.067614776, 20), (-18.667614776, 20))
            ThreePointArc((-18.667614776, 20), (-17.917614776, 19.25), (-17.167614776, 20))
            Line((-17.167614776, 20), (-16.767614776, 20))
            ThreePointArc((-16.767614776, 20), (-17.917614776, 18.85), (-19.067614776, 20))
        make_face()
    extrude(amount=-AYNALAMA1_COPY_20_DEPTH, mode=Mode.SUBTRACT)

    # Aynalama1 copy 21 sketch → Aynalama1 copy 21 (cut)
    with BuildSketch(Plane(origin=(27, 1, 0), x_dir=(1, 0, 0), z_dir=(0, 1, 0))):
        with BuildLine():
            Line((-19.067614776, 20), (-18.667614776, 20))
            ThreePointArc((-18.667614776, 20), (-17.917614776, 19.25), (-17.167614776, 20))
            Line((-17.167614776, 20), (-16.767614776, 20))
            ThreePointArc((-16.767614776, 20), (-17.917614776, 18.85), (-19.067614776, 20))
        make_face()
    extrude(amount=-AYNALAMA1_COPY_21_DEPTH, mode=Mode.SUBTRACT)

    # Aynalama1 copy 22 sketch → Aynalama1 copy 22 (cut)
    with BuildSketch(Plane(origin=(30, 1, 0), x_dir=(1, 0, 0), z_dir=(0, 1, 0))):
        with BuildLine():
            Line((-19.067614776, 20), (-18.667614776, 20))
            ThreePointArc((-18.667614776, 20), (-17.917614776, 19.25), (-17.167614776, 20))
            Line((-17.167614776, 20), (-16.767614776, 20))
            ThreePointArc((-16.767614776, 20), (-17.917614776, 18.85), (-19.067614776, 20))
        make_face()
    extrude(amount=-AYNALAMA1_COPY_22_DEPTH, mode=Mode.SUBTRACT)

    # Aynalama1 copy 23 sketch → Aynalama1 copy 23 (cut)
    with BuildSketch(Plane(origin=(33, 1, 0), x_dir=(1, 0, 0), z_dir=(0, 1, 0))):
        with BuildLine():
            Line((-19.067614776, 20), (-18.667614776, 20))
            ThreePointArc((-18.667614776, 20), (-17.917614776, 19.25), (-17.167614776, 20))
            Line((-17.167614776, 20), (-16.767614776, 20))
            ThreePointArc((-16.767614776, 20), (-17.917614776, 18.85), (-19.067614776, 20))
        make_face()
    extrude(amount=-AYNALAMA1_COPY_23_DEPTH, mode=Mode.SUBTRACT)

    # Aynalama1 copy 24 sketch → Aynalama1 copy 24 (cut)
    with BuildSketch(Plane(origin=(36, 1, 0), x_dir=(1, 0, 0), z_dir=(0, 1, 0))):
        with BuildLine():
            Line((-19.067614776, 20), (-18.667614776, 20))
            ThreePointArc((-18.667614776, 20), (-17.917614776, 19.25), (-17.167614776, 20))
            Line((-17.167614776, 20), (-16.767614776, 20))
            ThreePointArc((-16.767614776, 20), (-17.917614776, 18.85), (-19.067614776, 20))
        make_face()
    extrude(amount=-AYNALAMA1_COPY_24_DEPTH, mode=Mode.SUBTRACT)


solid = part.part
